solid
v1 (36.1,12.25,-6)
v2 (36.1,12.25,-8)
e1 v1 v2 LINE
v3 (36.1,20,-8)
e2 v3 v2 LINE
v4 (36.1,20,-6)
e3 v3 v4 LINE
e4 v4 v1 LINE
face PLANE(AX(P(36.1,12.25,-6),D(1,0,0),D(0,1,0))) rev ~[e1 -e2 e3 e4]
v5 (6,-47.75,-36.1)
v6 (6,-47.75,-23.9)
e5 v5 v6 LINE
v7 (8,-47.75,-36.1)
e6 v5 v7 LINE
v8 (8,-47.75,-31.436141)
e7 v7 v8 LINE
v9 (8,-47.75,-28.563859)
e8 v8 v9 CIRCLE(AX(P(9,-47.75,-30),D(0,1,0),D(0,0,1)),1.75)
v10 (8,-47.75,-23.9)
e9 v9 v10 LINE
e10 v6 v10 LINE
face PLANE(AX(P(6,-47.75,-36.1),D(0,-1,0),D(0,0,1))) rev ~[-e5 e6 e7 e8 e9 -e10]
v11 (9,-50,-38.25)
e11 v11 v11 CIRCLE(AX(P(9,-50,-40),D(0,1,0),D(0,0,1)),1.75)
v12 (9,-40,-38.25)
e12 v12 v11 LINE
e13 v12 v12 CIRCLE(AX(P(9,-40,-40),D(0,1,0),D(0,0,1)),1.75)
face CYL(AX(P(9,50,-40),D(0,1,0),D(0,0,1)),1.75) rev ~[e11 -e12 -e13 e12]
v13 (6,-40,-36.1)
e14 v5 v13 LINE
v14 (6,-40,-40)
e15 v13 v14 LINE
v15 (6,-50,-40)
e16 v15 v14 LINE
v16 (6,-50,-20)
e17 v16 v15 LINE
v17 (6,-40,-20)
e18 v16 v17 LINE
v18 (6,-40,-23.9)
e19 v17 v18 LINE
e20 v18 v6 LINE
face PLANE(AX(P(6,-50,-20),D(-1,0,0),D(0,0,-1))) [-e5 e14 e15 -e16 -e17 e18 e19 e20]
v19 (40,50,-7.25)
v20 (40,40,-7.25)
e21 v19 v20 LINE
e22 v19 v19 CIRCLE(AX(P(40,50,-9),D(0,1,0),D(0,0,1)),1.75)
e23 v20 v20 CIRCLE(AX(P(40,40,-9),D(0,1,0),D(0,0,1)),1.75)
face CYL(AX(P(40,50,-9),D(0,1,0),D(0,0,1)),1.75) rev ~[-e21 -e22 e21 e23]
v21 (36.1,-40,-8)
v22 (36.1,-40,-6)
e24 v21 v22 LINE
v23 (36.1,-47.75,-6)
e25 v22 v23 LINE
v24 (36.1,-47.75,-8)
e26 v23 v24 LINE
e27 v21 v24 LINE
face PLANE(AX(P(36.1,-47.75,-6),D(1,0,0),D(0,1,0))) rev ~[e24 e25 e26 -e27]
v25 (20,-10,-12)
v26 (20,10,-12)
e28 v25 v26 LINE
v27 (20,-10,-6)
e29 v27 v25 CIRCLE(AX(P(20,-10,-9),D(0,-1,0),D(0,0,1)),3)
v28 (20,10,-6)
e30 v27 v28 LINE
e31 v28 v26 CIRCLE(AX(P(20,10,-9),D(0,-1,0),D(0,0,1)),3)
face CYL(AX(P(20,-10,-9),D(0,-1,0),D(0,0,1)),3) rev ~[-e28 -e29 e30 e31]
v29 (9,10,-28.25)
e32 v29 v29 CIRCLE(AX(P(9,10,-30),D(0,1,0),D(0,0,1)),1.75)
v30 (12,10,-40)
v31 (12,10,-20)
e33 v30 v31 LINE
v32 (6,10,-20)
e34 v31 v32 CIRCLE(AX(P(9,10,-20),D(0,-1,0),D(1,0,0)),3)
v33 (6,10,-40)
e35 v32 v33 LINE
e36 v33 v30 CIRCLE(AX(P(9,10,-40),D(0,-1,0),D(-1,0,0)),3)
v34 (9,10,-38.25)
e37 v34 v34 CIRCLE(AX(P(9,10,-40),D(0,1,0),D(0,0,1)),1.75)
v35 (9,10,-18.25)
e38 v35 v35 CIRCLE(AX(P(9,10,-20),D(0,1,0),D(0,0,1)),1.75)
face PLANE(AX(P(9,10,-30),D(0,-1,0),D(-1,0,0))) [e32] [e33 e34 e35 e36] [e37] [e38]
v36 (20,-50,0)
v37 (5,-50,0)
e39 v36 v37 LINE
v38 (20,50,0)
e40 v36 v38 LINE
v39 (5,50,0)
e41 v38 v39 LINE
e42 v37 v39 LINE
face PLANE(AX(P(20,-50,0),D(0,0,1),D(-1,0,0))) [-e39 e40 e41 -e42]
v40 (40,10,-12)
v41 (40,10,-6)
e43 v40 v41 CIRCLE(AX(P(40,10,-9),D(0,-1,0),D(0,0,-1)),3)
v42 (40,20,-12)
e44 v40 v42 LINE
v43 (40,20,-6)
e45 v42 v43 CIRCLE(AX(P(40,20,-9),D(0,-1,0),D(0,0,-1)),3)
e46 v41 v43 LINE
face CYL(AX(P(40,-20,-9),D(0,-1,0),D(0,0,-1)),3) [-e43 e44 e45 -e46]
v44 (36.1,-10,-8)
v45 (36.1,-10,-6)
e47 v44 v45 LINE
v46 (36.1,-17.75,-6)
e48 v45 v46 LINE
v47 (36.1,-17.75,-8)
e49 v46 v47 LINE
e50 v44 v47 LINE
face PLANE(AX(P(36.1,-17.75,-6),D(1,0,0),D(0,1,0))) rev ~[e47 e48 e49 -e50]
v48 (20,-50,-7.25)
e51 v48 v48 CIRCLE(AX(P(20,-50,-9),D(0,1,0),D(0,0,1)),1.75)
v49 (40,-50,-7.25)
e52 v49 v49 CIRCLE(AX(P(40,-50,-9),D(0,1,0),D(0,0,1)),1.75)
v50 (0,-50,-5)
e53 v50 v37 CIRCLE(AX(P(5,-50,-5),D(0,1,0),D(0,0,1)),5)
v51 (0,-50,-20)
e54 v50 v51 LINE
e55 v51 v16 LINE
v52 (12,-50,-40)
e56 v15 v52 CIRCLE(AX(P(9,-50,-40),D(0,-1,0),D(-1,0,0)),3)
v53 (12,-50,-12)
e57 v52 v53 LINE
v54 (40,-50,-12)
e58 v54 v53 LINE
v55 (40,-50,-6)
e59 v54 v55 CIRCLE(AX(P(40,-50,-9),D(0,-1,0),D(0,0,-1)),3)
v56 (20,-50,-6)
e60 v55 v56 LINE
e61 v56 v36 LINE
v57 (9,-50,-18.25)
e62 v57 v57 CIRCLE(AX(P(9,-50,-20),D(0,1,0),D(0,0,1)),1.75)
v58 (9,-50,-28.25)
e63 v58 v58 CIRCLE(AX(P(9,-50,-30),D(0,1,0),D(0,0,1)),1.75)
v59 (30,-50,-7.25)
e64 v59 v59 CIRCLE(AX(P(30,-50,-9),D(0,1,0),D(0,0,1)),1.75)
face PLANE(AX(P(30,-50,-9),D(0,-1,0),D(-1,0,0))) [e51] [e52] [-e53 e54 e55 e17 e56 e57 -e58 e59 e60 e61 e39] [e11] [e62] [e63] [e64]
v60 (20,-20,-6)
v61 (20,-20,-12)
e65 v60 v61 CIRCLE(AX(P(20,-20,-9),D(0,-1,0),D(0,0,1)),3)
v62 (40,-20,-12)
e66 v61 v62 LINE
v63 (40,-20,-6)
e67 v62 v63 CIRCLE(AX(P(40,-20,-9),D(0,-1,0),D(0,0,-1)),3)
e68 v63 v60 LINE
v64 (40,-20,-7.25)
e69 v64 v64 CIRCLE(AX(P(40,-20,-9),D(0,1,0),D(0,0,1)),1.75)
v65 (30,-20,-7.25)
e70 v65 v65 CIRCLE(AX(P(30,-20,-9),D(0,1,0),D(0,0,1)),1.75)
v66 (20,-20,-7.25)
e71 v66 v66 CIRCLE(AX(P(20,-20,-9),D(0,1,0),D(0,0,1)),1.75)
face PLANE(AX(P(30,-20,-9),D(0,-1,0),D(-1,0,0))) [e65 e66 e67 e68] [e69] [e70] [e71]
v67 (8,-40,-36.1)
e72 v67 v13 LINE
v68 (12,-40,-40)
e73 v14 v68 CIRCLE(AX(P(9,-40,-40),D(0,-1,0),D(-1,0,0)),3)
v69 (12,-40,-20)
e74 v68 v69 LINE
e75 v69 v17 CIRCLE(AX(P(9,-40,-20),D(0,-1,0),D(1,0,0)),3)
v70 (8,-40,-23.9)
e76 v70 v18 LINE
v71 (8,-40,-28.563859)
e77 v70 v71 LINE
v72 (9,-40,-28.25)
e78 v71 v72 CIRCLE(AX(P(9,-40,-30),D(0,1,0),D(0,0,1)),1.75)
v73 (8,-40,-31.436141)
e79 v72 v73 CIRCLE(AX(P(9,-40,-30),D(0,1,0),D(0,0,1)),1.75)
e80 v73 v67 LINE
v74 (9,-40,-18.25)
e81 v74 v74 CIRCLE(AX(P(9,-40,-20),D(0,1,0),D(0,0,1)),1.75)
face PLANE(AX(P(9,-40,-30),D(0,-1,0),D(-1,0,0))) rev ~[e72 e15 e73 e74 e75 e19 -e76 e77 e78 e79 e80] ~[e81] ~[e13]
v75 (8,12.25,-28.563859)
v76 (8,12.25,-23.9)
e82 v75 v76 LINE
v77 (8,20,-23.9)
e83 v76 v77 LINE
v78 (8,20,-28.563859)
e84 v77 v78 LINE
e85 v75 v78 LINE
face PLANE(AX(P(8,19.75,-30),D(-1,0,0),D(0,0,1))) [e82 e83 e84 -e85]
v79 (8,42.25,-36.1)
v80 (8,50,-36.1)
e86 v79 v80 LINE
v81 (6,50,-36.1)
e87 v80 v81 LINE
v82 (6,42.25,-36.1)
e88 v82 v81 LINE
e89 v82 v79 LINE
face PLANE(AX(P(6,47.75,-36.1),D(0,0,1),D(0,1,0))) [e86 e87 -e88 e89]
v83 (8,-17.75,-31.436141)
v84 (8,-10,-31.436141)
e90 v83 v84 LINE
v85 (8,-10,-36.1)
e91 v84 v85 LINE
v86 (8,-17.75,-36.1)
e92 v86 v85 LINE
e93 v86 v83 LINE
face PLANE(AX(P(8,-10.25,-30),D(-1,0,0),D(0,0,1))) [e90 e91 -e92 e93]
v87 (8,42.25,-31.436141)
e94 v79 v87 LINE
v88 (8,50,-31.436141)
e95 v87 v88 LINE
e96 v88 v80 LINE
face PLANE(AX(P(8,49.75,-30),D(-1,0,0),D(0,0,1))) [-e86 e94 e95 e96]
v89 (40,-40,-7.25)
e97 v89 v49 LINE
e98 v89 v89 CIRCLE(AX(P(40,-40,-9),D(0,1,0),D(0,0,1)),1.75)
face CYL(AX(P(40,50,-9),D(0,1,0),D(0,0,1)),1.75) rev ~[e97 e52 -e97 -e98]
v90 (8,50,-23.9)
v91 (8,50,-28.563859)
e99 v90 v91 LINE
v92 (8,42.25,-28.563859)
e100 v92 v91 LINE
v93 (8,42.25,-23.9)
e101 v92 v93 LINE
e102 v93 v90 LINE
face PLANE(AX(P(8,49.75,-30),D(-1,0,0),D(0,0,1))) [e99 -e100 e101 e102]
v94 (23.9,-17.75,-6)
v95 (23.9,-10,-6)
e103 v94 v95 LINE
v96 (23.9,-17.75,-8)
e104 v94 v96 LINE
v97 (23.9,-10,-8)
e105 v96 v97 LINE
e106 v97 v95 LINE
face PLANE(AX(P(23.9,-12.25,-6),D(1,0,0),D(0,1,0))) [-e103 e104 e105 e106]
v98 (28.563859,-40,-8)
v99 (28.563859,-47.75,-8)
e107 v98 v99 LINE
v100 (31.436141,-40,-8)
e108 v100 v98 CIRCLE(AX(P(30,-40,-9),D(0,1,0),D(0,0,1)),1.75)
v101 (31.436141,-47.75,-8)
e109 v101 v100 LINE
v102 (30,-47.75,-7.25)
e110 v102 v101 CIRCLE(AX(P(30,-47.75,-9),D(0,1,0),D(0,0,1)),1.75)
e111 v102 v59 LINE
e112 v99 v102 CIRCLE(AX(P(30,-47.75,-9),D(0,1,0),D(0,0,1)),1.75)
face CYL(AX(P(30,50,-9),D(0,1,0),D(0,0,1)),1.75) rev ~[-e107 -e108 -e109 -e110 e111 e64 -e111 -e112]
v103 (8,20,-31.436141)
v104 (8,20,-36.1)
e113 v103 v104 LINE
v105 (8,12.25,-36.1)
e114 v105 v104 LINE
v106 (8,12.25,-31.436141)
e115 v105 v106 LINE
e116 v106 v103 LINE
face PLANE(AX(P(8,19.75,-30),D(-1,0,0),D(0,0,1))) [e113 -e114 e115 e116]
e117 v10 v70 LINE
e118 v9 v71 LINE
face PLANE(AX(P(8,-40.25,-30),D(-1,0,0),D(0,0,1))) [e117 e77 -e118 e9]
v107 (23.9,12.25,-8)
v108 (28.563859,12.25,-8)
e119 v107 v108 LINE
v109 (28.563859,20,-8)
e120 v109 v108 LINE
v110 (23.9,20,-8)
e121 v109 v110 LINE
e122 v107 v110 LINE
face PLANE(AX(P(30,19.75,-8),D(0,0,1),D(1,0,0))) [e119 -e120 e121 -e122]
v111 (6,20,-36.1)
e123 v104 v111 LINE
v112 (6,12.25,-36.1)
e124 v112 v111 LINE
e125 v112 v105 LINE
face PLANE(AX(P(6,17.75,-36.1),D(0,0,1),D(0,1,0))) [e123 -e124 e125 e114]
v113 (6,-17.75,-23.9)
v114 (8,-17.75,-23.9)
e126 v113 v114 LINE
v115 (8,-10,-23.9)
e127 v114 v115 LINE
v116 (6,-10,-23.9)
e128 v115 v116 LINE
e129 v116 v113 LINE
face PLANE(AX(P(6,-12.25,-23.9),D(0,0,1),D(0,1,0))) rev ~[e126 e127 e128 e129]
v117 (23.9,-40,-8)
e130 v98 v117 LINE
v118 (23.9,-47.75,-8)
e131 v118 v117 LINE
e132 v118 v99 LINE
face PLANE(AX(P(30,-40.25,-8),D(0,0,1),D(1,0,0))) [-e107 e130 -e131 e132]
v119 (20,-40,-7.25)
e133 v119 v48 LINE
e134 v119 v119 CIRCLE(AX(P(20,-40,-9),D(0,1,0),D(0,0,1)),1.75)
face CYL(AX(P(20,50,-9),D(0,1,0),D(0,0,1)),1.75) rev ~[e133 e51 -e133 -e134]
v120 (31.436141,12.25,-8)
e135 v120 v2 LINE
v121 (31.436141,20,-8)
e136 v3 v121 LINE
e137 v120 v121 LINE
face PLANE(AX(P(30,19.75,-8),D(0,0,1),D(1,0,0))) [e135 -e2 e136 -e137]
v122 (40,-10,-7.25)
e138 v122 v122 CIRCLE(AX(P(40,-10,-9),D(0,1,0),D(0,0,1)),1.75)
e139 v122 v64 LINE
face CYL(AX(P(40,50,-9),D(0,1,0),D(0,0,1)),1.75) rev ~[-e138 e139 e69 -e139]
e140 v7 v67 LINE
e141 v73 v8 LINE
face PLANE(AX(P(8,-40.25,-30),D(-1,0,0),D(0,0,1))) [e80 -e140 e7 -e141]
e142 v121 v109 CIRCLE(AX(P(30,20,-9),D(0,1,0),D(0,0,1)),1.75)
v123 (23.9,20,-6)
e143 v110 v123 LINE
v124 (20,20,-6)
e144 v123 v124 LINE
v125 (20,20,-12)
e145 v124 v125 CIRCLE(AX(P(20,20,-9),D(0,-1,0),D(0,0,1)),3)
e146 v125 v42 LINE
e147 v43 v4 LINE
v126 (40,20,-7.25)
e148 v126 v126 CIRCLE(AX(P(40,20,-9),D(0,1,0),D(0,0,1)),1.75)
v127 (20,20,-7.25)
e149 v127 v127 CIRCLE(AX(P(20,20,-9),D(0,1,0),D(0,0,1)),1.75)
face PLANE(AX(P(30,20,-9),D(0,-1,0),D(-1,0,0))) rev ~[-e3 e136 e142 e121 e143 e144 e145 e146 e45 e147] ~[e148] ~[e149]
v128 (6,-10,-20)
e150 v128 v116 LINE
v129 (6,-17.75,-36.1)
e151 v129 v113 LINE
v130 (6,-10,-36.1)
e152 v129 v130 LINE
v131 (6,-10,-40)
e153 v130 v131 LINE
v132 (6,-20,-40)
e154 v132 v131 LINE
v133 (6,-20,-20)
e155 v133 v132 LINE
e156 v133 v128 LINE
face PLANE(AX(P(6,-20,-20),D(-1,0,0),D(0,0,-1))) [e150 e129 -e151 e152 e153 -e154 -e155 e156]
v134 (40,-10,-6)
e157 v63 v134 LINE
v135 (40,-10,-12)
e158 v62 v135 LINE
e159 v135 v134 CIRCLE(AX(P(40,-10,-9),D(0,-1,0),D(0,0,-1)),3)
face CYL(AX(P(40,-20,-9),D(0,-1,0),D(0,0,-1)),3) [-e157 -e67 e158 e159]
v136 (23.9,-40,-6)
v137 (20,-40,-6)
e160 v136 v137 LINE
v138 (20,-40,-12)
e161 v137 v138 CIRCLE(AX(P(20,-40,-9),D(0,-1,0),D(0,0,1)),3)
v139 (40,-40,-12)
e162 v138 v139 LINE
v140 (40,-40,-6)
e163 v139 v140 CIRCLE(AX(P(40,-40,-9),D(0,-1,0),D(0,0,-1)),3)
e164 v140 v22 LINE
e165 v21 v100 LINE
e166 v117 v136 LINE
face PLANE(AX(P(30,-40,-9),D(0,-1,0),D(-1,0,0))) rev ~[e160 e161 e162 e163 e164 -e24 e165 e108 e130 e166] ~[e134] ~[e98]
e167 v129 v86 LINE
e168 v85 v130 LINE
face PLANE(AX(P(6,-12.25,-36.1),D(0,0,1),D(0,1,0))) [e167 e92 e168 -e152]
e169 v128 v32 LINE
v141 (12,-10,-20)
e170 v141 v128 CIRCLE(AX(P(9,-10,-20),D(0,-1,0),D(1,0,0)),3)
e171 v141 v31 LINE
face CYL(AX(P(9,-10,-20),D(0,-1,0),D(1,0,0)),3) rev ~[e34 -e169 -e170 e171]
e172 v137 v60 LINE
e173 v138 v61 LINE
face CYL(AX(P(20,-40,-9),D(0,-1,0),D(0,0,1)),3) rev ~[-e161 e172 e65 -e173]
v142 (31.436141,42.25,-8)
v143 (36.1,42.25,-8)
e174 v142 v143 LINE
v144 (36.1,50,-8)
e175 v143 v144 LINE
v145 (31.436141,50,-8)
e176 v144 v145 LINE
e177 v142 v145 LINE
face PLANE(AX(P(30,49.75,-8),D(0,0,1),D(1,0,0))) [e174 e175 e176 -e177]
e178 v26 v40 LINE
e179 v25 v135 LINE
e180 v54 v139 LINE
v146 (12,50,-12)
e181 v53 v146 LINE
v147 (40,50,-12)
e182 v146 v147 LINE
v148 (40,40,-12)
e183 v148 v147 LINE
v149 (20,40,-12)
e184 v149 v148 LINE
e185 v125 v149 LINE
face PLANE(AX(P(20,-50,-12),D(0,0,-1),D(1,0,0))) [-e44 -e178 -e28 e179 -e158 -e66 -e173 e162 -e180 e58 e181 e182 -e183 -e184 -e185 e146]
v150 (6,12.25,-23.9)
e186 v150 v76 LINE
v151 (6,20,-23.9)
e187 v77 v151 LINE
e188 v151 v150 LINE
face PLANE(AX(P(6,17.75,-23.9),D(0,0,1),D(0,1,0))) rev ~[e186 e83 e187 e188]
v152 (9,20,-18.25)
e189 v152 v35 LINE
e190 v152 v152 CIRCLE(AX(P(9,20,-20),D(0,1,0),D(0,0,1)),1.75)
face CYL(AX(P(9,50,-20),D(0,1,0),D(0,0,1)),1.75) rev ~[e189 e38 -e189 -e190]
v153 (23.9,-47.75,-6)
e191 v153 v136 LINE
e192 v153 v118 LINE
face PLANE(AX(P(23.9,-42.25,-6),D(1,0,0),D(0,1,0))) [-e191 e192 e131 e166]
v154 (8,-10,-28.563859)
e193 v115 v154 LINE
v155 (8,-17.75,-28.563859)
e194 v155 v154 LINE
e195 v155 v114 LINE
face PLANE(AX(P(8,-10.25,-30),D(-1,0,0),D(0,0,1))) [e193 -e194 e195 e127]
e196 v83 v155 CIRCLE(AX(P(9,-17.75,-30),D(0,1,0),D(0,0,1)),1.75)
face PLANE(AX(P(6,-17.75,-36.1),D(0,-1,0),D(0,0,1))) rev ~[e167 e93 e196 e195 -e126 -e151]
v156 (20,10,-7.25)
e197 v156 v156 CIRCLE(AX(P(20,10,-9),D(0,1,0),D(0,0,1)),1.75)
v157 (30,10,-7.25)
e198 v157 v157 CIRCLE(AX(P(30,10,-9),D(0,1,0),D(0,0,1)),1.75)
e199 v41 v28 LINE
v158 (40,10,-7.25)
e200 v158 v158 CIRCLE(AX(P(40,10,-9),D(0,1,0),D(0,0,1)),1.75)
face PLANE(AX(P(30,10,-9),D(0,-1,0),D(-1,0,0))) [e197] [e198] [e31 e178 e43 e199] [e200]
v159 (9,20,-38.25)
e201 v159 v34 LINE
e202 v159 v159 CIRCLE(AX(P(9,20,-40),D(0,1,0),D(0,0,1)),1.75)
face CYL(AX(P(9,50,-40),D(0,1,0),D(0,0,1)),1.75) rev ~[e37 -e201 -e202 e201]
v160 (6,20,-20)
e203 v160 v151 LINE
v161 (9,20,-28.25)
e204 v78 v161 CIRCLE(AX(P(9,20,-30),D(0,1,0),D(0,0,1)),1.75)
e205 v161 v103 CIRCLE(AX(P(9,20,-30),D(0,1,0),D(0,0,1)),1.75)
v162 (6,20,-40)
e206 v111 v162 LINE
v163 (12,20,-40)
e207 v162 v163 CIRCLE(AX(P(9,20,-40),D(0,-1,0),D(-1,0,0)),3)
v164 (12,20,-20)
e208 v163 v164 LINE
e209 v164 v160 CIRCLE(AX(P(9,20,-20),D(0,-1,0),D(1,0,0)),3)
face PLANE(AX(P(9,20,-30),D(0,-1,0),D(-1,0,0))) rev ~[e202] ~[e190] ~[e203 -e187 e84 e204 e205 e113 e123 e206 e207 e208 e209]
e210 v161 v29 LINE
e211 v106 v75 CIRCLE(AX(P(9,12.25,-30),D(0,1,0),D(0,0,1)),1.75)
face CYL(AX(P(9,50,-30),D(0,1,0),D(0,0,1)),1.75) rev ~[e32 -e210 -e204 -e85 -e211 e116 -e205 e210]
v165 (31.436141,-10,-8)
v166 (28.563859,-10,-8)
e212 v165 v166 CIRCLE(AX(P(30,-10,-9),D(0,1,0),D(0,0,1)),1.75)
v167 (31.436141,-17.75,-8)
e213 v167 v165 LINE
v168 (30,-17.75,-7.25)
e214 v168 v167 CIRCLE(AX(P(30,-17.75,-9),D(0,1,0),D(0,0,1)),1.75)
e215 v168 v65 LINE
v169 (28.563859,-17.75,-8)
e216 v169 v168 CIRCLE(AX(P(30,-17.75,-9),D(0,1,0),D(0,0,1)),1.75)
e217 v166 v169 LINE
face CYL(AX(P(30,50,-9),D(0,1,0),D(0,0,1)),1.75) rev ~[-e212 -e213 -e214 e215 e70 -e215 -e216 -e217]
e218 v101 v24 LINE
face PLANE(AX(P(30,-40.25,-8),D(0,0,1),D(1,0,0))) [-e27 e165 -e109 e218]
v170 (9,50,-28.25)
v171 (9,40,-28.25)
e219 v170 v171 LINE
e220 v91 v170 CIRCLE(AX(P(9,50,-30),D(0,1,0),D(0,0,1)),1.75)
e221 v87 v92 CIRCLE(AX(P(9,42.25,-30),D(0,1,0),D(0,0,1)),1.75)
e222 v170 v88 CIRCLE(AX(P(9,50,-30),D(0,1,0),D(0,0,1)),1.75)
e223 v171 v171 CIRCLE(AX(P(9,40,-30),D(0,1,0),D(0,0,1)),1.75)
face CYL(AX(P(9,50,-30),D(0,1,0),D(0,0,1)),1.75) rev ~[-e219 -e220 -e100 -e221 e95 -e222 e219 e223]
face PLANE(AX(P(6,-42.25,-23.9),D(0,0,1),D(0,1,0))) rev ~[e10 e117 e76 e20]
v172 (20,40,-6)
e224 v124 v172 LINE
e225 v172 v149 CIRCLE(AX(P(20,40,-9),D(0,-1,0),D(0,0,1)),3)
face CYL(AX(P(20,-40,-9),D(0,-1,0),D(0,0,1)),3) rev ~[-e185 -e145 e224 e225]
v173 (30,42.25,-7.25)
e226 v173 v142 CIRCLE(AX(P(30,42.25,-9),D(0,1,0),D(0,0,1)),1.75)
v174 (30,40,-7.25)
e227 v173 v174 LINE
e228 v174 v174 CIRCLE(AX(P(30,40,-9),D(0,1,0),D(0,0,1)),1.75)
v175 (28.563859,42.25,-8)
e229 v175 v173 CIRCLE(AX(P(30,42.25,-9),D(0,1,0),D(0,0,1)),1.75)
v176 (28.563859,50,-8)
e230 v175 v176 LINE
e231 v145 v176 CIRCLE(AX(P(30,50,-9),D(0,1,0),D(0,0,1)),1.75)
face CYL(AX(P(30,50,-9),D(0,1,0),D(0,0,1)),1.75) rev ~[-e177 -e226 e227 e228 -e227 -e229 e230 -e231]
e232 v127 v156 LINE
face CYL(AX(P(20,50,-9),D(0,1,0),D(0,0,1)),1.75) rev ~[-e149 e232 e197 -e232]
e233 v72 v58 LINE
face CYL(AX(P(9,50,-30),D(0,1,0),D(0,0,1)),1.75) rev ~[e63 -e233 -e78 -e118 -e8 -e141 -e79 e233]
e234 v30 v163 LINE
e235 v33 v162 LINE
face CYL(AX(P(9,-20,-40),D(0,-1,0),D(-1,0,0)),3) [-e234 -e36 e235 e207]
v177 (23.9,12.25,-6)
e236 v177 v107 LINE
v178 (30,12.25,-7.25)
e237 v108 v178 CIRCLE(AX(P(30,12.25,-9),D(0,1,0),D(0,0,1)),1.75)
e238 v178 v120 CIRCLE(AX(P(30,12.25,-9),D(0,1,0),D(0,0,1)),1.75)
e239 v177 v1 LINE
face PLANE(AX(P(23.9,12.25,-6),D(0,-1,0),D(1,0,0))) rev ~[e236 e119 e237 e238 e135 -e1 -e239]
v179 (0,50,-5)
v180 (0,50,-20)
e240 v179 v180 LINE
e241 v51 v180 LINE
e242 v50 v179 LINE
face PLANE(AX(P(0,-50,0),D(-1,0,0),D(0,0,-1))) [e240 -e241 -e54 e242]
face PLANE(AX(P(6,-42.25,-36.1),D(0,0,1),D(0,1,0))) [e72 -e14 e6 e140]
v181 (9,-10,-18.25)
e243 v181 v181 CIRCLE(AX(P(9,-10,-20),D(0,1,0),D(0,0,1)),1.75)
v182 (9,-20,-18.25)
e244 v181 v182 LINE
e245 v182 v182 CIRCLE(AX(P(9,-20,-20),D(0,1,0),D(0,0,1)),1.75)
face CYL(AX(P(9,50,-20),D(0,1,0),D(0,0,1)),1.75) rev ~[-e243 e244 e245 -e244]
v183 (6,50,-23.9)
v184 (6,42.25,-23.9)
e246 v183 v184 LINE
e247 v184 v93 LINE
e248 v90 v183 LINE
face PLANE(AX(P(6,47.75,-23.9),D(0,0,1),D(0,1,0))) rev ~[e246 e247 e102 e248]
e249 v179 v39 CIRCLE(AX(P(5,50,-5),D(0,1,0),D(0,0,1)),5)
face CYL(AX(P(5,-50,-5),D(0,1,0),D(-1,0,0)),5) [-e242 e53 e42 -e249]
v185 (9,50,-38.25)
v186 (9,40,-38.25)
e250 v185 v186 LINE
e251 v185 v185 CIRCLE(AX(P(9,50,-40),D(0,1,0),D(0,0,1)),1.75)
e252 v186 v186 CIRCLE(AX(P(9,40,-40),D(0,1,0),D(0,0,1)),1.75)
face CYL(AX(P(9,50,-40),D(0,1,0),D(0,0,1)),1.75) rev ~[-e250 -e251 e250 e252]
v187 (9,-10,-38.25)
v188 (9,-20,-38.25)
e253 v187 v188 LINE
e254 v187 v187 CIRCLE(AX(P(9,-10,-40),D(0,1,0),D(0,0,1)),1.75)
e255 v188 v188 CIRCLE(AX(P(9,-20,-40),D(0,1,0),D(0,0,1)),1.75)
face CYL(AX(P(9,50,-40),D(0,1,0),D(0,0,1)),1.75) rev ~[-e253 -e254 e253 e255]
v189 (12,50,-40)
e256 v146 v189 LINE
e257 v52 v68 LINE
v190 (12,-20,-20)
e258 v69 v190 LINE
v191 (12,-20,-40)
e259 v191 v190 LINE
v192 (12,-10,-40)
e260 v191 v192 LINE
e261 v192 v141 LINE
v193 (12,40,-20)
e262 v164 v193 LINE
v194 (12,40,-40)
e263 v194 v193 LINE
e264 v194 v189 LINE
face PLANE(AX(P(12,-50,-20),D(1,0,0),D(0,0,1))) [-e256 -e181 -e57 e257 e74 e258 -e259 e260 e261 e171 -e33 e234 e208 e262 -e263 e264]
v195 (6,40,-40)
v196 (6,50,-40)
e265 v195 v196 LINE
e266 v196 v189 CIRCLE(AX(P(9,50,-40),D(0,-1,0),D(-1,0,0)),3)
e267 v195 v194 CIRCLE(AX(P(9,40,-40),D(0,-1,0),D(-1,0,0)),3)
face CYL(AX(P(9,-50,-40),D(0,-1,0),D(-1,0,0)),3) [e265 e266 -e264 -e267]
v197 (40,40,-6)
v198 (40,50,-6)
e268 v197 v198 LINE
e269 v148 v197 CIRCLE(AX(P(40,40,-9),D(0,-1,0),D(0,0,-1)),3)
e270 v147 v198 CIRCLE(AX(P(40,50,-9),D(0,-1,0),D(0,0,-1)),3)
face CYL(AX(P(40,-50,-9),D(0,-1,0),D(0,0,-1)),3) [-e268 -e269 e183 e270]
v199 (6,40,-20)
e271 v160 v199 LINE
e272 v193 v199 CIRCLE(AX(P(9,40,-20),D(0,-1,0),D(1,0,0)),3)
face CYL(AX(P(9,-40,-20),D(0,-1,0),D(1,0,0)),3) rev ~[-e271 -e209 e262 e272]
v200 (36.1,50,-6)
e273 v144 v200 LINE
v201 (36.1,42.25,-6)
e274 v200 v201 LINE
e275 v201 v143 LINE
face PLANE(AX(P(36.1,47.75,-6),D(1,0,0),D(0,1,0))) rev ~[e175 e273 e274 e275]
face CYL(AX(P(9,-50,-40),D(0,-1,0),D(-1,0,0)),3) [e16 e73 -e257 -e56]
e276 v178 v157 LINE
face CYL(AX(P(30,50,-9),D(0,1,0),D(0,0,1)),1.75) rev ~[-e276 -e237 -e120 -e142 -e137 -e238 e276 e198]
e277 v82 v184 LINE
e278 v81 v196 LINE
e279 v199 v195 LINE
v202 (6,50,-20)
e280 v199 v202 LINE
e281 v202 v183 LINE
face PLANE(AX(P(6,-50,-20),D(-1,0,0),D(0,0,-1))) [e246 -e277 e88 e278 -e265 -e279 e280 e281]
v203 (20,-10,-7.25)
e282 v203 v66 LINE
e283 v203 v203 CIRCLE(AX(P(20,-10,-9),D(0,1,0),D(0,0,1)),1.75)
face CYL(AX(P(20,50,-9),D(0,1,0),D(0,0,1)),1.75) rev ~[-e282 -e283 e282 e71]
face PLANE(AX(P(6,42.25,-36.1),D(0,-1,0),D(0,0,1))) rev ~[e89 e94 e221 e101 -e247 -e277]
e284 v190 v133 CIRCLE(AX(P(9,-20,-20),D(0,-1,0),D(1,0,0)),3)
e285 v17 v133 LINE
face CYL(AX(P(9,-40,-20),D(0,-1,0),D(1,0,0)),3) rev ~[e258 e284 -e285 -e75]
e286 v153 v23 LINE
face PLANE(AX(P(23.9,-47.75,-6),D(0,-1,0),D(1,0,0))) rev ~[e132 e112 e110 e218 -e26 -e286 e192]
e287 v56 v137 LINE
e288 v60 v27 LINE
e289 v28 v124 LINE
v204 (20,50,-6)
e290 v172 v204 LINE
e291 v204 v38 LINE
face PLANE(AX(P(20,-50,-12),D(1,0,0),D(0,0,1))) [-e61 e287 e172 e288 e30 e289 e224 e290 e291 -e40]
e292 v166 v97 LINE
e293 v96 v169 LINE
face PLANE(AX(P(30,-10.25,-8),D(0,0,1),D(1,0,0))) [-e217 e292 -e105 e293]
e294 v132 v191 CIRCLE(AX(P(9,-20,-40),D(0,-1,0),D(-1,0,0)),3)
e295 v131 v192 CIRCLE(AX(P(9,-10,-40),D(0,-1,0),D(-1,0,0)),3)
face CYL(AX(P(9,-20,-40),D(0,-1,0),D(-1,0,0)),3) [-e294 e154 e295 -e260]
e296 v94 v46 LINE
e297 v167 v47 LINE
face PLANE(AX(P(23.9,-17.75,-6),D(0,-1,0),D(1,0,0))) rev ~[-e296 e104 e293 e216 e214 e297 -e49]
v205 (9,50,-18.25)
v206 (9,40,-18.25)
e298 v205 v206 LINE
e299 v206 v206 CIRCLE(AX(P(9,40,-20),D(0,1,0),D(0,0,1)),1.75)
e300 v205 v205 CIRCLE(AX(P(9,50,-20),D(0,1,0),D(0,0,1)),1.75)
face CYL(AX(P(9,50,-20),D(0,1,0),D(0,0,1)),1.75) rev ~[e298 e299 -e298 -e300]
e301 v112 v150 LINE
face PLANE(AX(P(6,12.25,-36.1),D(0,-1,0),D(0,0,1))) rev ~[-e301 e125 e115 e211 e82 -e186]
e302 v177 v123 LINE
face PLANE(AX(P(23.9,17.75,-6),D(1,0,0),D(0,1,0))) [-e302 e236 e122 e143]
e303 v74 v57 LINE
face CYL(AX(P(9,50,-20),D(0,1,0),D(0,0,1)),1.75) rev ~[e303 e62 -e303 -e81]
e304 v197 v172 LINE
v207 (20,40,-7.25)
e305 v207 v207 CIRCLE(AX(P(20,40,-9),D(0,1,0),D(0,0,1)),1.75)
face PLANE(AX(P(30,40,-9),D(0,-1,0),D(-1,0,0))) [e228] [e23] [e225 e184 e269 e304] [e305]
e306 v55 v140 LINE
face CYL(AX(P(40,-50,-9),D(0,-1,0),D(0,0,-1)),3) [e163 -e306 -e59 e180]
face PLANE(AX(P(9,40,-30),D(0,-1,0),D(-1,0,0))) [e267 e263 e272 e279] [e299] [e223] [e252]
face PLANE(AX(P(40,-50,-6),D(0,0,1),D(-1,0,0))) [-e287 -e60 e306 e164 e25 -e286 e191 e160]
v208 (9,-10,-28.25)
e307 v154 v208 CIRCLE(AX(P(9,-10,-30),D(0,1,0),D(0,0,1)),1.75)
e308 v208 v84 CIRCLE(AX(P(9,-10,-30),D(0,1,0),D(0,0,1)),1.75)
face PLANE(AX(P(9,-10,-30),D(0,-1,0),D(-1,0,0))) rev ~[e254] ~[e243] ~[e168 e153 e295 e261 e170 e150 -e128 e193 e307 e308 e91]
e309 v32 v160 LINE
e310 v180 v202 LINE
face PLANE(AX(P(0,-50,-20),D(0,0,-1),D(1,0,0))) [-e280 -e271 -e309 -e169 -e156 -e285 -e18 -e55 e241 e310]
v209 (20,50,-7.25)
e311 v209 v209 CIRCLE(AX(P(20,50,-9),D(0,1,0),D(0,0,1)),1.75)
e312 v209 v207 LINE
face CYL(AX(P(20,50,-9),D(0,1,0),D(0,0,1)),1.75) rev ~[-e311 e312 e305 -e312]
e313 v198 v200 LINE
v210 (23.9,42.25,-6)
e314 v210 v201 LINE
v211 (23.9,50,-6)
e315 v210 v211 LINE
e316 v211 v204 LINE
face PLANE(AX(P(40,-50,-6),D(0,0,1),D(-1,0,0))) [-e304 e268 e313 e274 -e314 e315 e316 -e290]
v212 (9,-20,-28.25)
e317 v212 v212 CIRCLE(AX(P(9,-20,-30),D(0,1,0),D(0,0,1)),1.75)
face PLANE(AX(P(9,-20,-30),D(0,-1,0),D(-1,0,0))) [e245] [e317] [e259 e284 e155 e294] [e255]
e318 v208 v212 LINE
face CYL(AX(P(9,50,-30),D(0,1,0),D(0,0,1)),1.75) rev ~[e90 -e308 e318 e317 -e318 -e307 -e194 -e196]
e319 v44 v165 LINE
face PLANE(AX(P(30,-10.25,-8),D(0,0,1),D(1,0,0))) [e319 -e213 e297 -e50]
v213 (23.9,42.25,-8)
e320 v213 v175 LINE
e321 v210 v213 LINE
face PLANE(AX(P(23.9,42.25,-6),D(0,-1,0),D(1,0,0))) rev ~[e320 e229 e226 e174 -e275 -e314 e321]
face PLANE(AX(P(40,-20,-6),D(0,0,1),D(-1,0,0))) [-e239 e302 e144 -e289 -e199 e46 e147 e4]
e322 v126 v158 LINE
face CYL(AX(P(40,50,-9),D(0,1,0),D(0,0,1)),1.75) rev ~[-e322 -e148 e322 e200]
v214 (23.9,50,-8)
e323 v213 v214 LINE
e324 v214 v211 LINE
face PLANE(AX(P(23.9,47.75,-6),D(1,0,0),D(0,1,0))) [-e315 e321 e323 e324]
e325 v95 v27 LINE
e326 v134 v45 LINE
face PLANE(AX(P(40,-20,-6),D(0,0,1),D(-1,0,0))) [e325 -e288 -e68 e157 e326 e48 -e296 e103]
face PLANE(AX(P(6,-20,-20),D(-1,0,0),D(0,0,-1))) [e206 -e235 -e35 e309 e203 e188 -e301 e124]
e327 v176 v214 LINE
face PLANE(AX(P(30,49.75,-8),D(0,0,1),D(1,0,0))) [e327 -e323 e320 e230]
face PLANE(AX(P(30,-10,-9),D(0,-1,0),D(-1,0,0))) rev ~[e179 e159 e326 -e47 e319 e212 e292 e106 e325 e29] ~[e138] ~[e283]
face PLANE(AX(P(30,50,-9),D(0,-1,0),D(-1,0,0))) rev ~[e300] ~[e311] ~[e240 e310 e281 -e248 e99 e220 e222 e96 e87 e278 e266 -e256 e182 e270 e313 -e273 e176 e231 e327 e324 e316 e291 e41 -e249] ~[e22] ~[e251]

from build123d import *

# Parameters (mm, degrees)
BOSS_EXTRUDE1_DEPTH      = 50
BOSS_EXTRUDE1_DEPTH_BACK = 50
BOSS_EXTRUDE2_DEPTH      = 50
BOSS_EXTRUDE2_DEPTH_BACK = 50
FILLET1_R                = 5
CUT_EXTRUDE2_DEPTH       = 40
CUT_EXTRUDE2_DEPTH_BACK  = 40
BOSS_EXTRUDE3_DEPTH      = 20
BOSS_EXTRUDE3_DEPTH_BACK = 20
CUT_EXTRUDE3_DEPTH       = 10
CUT_EXTRUDE3_DEPTH_BACK  = 10
SKETCH3_R                = 1.75
CUT_EXTRUDE1_DEPTH       = 118.038455219
SKETCH4_W                = 12.2
SKETCH4_H                = 5.5
CUT_EXTRUDE4_DEPTH       = 2
LPATTERN1_COUNT          = 4
LPATTERN1_PITCH          = 30
SKETCH6_W                = 12.2
SKETCH6_H                = 5.5
CUT_EXTRUDE5_DEPTH       = 2
LPATTERN2_COUNT          = 4
LPATTERN2_PITCH          = 30
SKETCH7_W                = 12.2
SKETCH7_H                = 4
CUT_EXTRUDE6_DEPTH       = 2
LPATTERN3_COUNT          = 4
LPATTERN3_PITCH          = 30
SKETCH8_W                = 12.2
SKETCH8_H                = 4
CUT_EXTRUDE7_DEPTH       = 2
LPATTERN4_COUNT          = 4
LPATTERN4_PITCH          = 30


with BuildPart() as part:
    # Sketch1 → Boss-Extrude1 (new, two sides: drawn at the far end of the back side and taken through both)
    with BuildSketch(Plane(origin=(0, 0, 0), x_dir=(1, 0, 0), z_dir=(0, 1, 0)).offset(-BOSS_EXTRUDE1_DEPTH_BACK)):
        Polygon((0, 0), (0, 20), (12, 20), (12, 12), (20, 12), (20, 0), align=None)
    extrude(amount=BOSS_EXTRUDE1_DEPTH + BOSS_EXTRUDE1_DEPTH_BACK)

    # Sketch2 → Boss-Extrude2 (add, two sides: drawn at the far end of the back side and taken through both)
    with BuildSketch(Plane(origin=(0, 0, 0), x_dir=(1, 0, 0), z_dir=(0, 1, 0)).offset(-BOSS_EXTRUDE2_DEPTH_BACK)):
        with BuildLine():
            Line((20, 12), (40, 12))
            ThreePointArc((40, 12), (43, 9), (40, 6))
            Line((40, 6), (20, 6))
            ThreePointArc((20, 6), (17, 9), (20, 12))
        make_face()
        with BuildLine():
            Line((12, 40), (12, 20))
            ThreePointArc((12, 20), (9, 17), (6, 20))
            Line((6, 20), (6, 40))
            ThreePointArc((6, 40), (9, 43), (12, 40))
        make_face()
    extrude(amount=BOSS_EXTRUDE2_DEPTH + BOSS_EXTRUDE2_DEPTH_BACK)

    # Fillet1
    fillet1_edges = [part.edges().sort_by_distance(p)[0] for p in [
        (0, 0, 0),
    ]]
    fillet(fillet1_edges, radius=FILLET1_R)

    # Sketch2<2> → Cut-Extrude2 (cut, two sides: drawn at the far end of the back side and taken through both)
    with BuildSketch(Plane(origin=(0, 0, 0), x_dir=(1, 0, 0), z_dir=(0, 1, 0)).offset(-CUT_EXTRUDE2_DEPTH_BACK)):
        with BuildLine():
            Line((20, 12), (40, 12))
            ThreePointArc((40, 12), (43, 9), (40, 6))
            Line((40, 6), (20, 6))
            ThreePointArc((20, 6), (17, 9), (20, 12))
        make_face()
        with BuildLine():
            Line((12, 40), (12, 20))
            ThreePointArc((12, 20), (9, 17), (6, 20))
            Line((6, 20), (6, 40))
            ThreePointArc((6, 40), (9, 43), (12, 40))
        make_face()
    extrude(amount=CUT_EXTRUDE2_DEPTH + CUT_EXTRUDE2_DEPTH_BACK, mode=Mode.SUBTRACT)

    # Sketch2<3> → Boss-Extrude3 (add, two sides: drawn at the far end of the back side and taken through both)
    with BuildSketch(Plane(origin=(0, 0, 0), x_dir=(1, 0, 0), z_dir=(0, 1, 0)).offset(-BOSS_EXTRUDE3_DEPTH_BACK)):
        with BuildLine():
            Line((20, 12), (40, 12))
            ThreePointArc((40, 12), (43, 9), (40, 6))
            Line((40, 6), (20, 6))
            ThreePointArc((20, 6), (17, 9), (20, 12))
        make_face()
        with BuildLine():
            Line((12, 40), (12, 20))
            ThreePointArc((12, 20), (9, 17), (6, 20))
            Line((6, 20), (6, 40))
            ThreePointArc((6, 40), (9, 43), (12, 40))
        make_face()
    extrude(amount=BOSS_EXTRUDE3_DEPTH + BOSS_EXTRUDE3_DEPTH_BACK)

    # Sketch2<4> → Cut-Extrude3 (cut, two sides: drawn at the far end of the back side and taken through both)
    with BuildSketch(Plane(origin=(0, 0, 0), x_dir=(1, 0, 0), z_dir=(0, 1, 0)).offset(-CUT_EXTRUDE3_DEPTH_BACK)):
        with BuildLine():
            Line((20, 12), (40, 12))
            ThreePointArc((40, 12), (43, 9), (40, 6))
            Line((40, 6), (20, 6))
            ThreePointArc((20, 6), (17, 9), (20, 12))
        make_face()
        with BuildLine():
            Line((12, 40), (12, 20))
            ThreePointArc((12, 20), (9, 17), (6, 20))
            Line((6, 20), (6, 40))
            ThreePointArc((6, 40), (9, 43), (12, 40))
        make_face()
    extrude(amount=CUT_EXTRUDE3_DEPTH + CUT_EXTRUDE3_DEPTH_BACK, mode=Mode.SUBTRACT)

    # Sketch3 → Cut-Extrude1 (cut, through all)
    with BuildSketch(Plane(origin=(0, 50, 0), x_dir=(1, 0, 0), z_dir=(0, 1, 0))):
        with Locations((9, 40)):
            Circle(SKETCH3_R)
        with Locations((9, 20)):
            Circle(SKETCH3_R)
        with Locations((20, 9)):
            Circle(SKETCH3_R)
        with Locations((40, 9)):
            Circle(SKETCH3_R)
        with Locations((30, 9)):
            Circle(SKETCH3_R)
        with Locations((9, 30)):
            Circle(SKETCH3_R)
    extrude(amount=-CUT_EXTRUDE1_DEPTH, mode=Mode.SUBTRACT)

    # Sketch4 → Cut-Extrude4 (cut)
    with BuildSketch(Plane.XY.offset(-6)):
        with Locations((30, 45)):
            Rectangle(SKETCH4_W, SKETCH4_H)
    cut_extrude4 = extrude(amount=-CUT_EXTRUDE4_DEPTH, mode=Mode.SUBTRACT)

    # LPattern1: Cut-Extrude4 ×4
    with Locations(*[(0, -i * LPATTERN1_PITCH, 0) for i in range(1, LPATTERN1_COUNT)]):
        add(cut_extrude4, mode=Mode.SUBTRACT)

    # Sketch6 → Cut-Extrude5 (cut)
    with BuildSketch(Plane.ZY.offset(-6)):
        with Locations((-30, 45)):
            Rectangle(SKETCH6_W, SKETCH6_H)
    cut_extrude5 = extrude(amount=-CUT_EXTRUDE5_DEPTH, mode=Mode.SUBTRACT)

    # LPattern2: Cut-Extrude5 ×4
    with Locations(*[(0, -i * LPATTERN2_PITCH, 0) for i in range(1, LPATTERN2_COUNT)]):
        add(cut_extrude5, mode=Mode.SUBTRACT)

    # Sketch7 → Cut-Extrude6 (cut)
    with BuildSketch(Plane.ZY.offset(-6)):
        with Locations((-30, 49.75)):
            Rectangle(SKETCH7_W, SKETCH7_H)
    cut_extrude6 = extrude(amount=-CUT_EXTRUDE6_DEPTH, mode=Mode.SUBTRACT)

    # LPattern3: Cut-Extrude6 ×4
    with Locations(*[(0, -i * LPATTERN3_PITCH, 0) for i in range(1, LPATTERN3_COUNT)]):
        add(cut_extrude6, mode=Mode.SUBTRACT)

    # Sketch8 → Cut-Extrude7 (cut)
    with BuildSketch(Plane.XY.offset(-6)):
        with Locations((30, 49.75)):
            Rectangle(SKETCH8_W, SKETCH8_H)
    cut_extrude7 = extrude(amount=-CUT_EXTRUDE7_DEPTH, mode=Mode.SUBTRACT)

    # LPattern4: Cut-Extrude7 ×4
    with Locations(*[(0, -i * LPATTERN4_PITCH, 0) for i in range(1, LPATTERN4_COUNT)]):
        add(cut_extrude7, mode=Mode.SUBTRACT)


solid = part.part
